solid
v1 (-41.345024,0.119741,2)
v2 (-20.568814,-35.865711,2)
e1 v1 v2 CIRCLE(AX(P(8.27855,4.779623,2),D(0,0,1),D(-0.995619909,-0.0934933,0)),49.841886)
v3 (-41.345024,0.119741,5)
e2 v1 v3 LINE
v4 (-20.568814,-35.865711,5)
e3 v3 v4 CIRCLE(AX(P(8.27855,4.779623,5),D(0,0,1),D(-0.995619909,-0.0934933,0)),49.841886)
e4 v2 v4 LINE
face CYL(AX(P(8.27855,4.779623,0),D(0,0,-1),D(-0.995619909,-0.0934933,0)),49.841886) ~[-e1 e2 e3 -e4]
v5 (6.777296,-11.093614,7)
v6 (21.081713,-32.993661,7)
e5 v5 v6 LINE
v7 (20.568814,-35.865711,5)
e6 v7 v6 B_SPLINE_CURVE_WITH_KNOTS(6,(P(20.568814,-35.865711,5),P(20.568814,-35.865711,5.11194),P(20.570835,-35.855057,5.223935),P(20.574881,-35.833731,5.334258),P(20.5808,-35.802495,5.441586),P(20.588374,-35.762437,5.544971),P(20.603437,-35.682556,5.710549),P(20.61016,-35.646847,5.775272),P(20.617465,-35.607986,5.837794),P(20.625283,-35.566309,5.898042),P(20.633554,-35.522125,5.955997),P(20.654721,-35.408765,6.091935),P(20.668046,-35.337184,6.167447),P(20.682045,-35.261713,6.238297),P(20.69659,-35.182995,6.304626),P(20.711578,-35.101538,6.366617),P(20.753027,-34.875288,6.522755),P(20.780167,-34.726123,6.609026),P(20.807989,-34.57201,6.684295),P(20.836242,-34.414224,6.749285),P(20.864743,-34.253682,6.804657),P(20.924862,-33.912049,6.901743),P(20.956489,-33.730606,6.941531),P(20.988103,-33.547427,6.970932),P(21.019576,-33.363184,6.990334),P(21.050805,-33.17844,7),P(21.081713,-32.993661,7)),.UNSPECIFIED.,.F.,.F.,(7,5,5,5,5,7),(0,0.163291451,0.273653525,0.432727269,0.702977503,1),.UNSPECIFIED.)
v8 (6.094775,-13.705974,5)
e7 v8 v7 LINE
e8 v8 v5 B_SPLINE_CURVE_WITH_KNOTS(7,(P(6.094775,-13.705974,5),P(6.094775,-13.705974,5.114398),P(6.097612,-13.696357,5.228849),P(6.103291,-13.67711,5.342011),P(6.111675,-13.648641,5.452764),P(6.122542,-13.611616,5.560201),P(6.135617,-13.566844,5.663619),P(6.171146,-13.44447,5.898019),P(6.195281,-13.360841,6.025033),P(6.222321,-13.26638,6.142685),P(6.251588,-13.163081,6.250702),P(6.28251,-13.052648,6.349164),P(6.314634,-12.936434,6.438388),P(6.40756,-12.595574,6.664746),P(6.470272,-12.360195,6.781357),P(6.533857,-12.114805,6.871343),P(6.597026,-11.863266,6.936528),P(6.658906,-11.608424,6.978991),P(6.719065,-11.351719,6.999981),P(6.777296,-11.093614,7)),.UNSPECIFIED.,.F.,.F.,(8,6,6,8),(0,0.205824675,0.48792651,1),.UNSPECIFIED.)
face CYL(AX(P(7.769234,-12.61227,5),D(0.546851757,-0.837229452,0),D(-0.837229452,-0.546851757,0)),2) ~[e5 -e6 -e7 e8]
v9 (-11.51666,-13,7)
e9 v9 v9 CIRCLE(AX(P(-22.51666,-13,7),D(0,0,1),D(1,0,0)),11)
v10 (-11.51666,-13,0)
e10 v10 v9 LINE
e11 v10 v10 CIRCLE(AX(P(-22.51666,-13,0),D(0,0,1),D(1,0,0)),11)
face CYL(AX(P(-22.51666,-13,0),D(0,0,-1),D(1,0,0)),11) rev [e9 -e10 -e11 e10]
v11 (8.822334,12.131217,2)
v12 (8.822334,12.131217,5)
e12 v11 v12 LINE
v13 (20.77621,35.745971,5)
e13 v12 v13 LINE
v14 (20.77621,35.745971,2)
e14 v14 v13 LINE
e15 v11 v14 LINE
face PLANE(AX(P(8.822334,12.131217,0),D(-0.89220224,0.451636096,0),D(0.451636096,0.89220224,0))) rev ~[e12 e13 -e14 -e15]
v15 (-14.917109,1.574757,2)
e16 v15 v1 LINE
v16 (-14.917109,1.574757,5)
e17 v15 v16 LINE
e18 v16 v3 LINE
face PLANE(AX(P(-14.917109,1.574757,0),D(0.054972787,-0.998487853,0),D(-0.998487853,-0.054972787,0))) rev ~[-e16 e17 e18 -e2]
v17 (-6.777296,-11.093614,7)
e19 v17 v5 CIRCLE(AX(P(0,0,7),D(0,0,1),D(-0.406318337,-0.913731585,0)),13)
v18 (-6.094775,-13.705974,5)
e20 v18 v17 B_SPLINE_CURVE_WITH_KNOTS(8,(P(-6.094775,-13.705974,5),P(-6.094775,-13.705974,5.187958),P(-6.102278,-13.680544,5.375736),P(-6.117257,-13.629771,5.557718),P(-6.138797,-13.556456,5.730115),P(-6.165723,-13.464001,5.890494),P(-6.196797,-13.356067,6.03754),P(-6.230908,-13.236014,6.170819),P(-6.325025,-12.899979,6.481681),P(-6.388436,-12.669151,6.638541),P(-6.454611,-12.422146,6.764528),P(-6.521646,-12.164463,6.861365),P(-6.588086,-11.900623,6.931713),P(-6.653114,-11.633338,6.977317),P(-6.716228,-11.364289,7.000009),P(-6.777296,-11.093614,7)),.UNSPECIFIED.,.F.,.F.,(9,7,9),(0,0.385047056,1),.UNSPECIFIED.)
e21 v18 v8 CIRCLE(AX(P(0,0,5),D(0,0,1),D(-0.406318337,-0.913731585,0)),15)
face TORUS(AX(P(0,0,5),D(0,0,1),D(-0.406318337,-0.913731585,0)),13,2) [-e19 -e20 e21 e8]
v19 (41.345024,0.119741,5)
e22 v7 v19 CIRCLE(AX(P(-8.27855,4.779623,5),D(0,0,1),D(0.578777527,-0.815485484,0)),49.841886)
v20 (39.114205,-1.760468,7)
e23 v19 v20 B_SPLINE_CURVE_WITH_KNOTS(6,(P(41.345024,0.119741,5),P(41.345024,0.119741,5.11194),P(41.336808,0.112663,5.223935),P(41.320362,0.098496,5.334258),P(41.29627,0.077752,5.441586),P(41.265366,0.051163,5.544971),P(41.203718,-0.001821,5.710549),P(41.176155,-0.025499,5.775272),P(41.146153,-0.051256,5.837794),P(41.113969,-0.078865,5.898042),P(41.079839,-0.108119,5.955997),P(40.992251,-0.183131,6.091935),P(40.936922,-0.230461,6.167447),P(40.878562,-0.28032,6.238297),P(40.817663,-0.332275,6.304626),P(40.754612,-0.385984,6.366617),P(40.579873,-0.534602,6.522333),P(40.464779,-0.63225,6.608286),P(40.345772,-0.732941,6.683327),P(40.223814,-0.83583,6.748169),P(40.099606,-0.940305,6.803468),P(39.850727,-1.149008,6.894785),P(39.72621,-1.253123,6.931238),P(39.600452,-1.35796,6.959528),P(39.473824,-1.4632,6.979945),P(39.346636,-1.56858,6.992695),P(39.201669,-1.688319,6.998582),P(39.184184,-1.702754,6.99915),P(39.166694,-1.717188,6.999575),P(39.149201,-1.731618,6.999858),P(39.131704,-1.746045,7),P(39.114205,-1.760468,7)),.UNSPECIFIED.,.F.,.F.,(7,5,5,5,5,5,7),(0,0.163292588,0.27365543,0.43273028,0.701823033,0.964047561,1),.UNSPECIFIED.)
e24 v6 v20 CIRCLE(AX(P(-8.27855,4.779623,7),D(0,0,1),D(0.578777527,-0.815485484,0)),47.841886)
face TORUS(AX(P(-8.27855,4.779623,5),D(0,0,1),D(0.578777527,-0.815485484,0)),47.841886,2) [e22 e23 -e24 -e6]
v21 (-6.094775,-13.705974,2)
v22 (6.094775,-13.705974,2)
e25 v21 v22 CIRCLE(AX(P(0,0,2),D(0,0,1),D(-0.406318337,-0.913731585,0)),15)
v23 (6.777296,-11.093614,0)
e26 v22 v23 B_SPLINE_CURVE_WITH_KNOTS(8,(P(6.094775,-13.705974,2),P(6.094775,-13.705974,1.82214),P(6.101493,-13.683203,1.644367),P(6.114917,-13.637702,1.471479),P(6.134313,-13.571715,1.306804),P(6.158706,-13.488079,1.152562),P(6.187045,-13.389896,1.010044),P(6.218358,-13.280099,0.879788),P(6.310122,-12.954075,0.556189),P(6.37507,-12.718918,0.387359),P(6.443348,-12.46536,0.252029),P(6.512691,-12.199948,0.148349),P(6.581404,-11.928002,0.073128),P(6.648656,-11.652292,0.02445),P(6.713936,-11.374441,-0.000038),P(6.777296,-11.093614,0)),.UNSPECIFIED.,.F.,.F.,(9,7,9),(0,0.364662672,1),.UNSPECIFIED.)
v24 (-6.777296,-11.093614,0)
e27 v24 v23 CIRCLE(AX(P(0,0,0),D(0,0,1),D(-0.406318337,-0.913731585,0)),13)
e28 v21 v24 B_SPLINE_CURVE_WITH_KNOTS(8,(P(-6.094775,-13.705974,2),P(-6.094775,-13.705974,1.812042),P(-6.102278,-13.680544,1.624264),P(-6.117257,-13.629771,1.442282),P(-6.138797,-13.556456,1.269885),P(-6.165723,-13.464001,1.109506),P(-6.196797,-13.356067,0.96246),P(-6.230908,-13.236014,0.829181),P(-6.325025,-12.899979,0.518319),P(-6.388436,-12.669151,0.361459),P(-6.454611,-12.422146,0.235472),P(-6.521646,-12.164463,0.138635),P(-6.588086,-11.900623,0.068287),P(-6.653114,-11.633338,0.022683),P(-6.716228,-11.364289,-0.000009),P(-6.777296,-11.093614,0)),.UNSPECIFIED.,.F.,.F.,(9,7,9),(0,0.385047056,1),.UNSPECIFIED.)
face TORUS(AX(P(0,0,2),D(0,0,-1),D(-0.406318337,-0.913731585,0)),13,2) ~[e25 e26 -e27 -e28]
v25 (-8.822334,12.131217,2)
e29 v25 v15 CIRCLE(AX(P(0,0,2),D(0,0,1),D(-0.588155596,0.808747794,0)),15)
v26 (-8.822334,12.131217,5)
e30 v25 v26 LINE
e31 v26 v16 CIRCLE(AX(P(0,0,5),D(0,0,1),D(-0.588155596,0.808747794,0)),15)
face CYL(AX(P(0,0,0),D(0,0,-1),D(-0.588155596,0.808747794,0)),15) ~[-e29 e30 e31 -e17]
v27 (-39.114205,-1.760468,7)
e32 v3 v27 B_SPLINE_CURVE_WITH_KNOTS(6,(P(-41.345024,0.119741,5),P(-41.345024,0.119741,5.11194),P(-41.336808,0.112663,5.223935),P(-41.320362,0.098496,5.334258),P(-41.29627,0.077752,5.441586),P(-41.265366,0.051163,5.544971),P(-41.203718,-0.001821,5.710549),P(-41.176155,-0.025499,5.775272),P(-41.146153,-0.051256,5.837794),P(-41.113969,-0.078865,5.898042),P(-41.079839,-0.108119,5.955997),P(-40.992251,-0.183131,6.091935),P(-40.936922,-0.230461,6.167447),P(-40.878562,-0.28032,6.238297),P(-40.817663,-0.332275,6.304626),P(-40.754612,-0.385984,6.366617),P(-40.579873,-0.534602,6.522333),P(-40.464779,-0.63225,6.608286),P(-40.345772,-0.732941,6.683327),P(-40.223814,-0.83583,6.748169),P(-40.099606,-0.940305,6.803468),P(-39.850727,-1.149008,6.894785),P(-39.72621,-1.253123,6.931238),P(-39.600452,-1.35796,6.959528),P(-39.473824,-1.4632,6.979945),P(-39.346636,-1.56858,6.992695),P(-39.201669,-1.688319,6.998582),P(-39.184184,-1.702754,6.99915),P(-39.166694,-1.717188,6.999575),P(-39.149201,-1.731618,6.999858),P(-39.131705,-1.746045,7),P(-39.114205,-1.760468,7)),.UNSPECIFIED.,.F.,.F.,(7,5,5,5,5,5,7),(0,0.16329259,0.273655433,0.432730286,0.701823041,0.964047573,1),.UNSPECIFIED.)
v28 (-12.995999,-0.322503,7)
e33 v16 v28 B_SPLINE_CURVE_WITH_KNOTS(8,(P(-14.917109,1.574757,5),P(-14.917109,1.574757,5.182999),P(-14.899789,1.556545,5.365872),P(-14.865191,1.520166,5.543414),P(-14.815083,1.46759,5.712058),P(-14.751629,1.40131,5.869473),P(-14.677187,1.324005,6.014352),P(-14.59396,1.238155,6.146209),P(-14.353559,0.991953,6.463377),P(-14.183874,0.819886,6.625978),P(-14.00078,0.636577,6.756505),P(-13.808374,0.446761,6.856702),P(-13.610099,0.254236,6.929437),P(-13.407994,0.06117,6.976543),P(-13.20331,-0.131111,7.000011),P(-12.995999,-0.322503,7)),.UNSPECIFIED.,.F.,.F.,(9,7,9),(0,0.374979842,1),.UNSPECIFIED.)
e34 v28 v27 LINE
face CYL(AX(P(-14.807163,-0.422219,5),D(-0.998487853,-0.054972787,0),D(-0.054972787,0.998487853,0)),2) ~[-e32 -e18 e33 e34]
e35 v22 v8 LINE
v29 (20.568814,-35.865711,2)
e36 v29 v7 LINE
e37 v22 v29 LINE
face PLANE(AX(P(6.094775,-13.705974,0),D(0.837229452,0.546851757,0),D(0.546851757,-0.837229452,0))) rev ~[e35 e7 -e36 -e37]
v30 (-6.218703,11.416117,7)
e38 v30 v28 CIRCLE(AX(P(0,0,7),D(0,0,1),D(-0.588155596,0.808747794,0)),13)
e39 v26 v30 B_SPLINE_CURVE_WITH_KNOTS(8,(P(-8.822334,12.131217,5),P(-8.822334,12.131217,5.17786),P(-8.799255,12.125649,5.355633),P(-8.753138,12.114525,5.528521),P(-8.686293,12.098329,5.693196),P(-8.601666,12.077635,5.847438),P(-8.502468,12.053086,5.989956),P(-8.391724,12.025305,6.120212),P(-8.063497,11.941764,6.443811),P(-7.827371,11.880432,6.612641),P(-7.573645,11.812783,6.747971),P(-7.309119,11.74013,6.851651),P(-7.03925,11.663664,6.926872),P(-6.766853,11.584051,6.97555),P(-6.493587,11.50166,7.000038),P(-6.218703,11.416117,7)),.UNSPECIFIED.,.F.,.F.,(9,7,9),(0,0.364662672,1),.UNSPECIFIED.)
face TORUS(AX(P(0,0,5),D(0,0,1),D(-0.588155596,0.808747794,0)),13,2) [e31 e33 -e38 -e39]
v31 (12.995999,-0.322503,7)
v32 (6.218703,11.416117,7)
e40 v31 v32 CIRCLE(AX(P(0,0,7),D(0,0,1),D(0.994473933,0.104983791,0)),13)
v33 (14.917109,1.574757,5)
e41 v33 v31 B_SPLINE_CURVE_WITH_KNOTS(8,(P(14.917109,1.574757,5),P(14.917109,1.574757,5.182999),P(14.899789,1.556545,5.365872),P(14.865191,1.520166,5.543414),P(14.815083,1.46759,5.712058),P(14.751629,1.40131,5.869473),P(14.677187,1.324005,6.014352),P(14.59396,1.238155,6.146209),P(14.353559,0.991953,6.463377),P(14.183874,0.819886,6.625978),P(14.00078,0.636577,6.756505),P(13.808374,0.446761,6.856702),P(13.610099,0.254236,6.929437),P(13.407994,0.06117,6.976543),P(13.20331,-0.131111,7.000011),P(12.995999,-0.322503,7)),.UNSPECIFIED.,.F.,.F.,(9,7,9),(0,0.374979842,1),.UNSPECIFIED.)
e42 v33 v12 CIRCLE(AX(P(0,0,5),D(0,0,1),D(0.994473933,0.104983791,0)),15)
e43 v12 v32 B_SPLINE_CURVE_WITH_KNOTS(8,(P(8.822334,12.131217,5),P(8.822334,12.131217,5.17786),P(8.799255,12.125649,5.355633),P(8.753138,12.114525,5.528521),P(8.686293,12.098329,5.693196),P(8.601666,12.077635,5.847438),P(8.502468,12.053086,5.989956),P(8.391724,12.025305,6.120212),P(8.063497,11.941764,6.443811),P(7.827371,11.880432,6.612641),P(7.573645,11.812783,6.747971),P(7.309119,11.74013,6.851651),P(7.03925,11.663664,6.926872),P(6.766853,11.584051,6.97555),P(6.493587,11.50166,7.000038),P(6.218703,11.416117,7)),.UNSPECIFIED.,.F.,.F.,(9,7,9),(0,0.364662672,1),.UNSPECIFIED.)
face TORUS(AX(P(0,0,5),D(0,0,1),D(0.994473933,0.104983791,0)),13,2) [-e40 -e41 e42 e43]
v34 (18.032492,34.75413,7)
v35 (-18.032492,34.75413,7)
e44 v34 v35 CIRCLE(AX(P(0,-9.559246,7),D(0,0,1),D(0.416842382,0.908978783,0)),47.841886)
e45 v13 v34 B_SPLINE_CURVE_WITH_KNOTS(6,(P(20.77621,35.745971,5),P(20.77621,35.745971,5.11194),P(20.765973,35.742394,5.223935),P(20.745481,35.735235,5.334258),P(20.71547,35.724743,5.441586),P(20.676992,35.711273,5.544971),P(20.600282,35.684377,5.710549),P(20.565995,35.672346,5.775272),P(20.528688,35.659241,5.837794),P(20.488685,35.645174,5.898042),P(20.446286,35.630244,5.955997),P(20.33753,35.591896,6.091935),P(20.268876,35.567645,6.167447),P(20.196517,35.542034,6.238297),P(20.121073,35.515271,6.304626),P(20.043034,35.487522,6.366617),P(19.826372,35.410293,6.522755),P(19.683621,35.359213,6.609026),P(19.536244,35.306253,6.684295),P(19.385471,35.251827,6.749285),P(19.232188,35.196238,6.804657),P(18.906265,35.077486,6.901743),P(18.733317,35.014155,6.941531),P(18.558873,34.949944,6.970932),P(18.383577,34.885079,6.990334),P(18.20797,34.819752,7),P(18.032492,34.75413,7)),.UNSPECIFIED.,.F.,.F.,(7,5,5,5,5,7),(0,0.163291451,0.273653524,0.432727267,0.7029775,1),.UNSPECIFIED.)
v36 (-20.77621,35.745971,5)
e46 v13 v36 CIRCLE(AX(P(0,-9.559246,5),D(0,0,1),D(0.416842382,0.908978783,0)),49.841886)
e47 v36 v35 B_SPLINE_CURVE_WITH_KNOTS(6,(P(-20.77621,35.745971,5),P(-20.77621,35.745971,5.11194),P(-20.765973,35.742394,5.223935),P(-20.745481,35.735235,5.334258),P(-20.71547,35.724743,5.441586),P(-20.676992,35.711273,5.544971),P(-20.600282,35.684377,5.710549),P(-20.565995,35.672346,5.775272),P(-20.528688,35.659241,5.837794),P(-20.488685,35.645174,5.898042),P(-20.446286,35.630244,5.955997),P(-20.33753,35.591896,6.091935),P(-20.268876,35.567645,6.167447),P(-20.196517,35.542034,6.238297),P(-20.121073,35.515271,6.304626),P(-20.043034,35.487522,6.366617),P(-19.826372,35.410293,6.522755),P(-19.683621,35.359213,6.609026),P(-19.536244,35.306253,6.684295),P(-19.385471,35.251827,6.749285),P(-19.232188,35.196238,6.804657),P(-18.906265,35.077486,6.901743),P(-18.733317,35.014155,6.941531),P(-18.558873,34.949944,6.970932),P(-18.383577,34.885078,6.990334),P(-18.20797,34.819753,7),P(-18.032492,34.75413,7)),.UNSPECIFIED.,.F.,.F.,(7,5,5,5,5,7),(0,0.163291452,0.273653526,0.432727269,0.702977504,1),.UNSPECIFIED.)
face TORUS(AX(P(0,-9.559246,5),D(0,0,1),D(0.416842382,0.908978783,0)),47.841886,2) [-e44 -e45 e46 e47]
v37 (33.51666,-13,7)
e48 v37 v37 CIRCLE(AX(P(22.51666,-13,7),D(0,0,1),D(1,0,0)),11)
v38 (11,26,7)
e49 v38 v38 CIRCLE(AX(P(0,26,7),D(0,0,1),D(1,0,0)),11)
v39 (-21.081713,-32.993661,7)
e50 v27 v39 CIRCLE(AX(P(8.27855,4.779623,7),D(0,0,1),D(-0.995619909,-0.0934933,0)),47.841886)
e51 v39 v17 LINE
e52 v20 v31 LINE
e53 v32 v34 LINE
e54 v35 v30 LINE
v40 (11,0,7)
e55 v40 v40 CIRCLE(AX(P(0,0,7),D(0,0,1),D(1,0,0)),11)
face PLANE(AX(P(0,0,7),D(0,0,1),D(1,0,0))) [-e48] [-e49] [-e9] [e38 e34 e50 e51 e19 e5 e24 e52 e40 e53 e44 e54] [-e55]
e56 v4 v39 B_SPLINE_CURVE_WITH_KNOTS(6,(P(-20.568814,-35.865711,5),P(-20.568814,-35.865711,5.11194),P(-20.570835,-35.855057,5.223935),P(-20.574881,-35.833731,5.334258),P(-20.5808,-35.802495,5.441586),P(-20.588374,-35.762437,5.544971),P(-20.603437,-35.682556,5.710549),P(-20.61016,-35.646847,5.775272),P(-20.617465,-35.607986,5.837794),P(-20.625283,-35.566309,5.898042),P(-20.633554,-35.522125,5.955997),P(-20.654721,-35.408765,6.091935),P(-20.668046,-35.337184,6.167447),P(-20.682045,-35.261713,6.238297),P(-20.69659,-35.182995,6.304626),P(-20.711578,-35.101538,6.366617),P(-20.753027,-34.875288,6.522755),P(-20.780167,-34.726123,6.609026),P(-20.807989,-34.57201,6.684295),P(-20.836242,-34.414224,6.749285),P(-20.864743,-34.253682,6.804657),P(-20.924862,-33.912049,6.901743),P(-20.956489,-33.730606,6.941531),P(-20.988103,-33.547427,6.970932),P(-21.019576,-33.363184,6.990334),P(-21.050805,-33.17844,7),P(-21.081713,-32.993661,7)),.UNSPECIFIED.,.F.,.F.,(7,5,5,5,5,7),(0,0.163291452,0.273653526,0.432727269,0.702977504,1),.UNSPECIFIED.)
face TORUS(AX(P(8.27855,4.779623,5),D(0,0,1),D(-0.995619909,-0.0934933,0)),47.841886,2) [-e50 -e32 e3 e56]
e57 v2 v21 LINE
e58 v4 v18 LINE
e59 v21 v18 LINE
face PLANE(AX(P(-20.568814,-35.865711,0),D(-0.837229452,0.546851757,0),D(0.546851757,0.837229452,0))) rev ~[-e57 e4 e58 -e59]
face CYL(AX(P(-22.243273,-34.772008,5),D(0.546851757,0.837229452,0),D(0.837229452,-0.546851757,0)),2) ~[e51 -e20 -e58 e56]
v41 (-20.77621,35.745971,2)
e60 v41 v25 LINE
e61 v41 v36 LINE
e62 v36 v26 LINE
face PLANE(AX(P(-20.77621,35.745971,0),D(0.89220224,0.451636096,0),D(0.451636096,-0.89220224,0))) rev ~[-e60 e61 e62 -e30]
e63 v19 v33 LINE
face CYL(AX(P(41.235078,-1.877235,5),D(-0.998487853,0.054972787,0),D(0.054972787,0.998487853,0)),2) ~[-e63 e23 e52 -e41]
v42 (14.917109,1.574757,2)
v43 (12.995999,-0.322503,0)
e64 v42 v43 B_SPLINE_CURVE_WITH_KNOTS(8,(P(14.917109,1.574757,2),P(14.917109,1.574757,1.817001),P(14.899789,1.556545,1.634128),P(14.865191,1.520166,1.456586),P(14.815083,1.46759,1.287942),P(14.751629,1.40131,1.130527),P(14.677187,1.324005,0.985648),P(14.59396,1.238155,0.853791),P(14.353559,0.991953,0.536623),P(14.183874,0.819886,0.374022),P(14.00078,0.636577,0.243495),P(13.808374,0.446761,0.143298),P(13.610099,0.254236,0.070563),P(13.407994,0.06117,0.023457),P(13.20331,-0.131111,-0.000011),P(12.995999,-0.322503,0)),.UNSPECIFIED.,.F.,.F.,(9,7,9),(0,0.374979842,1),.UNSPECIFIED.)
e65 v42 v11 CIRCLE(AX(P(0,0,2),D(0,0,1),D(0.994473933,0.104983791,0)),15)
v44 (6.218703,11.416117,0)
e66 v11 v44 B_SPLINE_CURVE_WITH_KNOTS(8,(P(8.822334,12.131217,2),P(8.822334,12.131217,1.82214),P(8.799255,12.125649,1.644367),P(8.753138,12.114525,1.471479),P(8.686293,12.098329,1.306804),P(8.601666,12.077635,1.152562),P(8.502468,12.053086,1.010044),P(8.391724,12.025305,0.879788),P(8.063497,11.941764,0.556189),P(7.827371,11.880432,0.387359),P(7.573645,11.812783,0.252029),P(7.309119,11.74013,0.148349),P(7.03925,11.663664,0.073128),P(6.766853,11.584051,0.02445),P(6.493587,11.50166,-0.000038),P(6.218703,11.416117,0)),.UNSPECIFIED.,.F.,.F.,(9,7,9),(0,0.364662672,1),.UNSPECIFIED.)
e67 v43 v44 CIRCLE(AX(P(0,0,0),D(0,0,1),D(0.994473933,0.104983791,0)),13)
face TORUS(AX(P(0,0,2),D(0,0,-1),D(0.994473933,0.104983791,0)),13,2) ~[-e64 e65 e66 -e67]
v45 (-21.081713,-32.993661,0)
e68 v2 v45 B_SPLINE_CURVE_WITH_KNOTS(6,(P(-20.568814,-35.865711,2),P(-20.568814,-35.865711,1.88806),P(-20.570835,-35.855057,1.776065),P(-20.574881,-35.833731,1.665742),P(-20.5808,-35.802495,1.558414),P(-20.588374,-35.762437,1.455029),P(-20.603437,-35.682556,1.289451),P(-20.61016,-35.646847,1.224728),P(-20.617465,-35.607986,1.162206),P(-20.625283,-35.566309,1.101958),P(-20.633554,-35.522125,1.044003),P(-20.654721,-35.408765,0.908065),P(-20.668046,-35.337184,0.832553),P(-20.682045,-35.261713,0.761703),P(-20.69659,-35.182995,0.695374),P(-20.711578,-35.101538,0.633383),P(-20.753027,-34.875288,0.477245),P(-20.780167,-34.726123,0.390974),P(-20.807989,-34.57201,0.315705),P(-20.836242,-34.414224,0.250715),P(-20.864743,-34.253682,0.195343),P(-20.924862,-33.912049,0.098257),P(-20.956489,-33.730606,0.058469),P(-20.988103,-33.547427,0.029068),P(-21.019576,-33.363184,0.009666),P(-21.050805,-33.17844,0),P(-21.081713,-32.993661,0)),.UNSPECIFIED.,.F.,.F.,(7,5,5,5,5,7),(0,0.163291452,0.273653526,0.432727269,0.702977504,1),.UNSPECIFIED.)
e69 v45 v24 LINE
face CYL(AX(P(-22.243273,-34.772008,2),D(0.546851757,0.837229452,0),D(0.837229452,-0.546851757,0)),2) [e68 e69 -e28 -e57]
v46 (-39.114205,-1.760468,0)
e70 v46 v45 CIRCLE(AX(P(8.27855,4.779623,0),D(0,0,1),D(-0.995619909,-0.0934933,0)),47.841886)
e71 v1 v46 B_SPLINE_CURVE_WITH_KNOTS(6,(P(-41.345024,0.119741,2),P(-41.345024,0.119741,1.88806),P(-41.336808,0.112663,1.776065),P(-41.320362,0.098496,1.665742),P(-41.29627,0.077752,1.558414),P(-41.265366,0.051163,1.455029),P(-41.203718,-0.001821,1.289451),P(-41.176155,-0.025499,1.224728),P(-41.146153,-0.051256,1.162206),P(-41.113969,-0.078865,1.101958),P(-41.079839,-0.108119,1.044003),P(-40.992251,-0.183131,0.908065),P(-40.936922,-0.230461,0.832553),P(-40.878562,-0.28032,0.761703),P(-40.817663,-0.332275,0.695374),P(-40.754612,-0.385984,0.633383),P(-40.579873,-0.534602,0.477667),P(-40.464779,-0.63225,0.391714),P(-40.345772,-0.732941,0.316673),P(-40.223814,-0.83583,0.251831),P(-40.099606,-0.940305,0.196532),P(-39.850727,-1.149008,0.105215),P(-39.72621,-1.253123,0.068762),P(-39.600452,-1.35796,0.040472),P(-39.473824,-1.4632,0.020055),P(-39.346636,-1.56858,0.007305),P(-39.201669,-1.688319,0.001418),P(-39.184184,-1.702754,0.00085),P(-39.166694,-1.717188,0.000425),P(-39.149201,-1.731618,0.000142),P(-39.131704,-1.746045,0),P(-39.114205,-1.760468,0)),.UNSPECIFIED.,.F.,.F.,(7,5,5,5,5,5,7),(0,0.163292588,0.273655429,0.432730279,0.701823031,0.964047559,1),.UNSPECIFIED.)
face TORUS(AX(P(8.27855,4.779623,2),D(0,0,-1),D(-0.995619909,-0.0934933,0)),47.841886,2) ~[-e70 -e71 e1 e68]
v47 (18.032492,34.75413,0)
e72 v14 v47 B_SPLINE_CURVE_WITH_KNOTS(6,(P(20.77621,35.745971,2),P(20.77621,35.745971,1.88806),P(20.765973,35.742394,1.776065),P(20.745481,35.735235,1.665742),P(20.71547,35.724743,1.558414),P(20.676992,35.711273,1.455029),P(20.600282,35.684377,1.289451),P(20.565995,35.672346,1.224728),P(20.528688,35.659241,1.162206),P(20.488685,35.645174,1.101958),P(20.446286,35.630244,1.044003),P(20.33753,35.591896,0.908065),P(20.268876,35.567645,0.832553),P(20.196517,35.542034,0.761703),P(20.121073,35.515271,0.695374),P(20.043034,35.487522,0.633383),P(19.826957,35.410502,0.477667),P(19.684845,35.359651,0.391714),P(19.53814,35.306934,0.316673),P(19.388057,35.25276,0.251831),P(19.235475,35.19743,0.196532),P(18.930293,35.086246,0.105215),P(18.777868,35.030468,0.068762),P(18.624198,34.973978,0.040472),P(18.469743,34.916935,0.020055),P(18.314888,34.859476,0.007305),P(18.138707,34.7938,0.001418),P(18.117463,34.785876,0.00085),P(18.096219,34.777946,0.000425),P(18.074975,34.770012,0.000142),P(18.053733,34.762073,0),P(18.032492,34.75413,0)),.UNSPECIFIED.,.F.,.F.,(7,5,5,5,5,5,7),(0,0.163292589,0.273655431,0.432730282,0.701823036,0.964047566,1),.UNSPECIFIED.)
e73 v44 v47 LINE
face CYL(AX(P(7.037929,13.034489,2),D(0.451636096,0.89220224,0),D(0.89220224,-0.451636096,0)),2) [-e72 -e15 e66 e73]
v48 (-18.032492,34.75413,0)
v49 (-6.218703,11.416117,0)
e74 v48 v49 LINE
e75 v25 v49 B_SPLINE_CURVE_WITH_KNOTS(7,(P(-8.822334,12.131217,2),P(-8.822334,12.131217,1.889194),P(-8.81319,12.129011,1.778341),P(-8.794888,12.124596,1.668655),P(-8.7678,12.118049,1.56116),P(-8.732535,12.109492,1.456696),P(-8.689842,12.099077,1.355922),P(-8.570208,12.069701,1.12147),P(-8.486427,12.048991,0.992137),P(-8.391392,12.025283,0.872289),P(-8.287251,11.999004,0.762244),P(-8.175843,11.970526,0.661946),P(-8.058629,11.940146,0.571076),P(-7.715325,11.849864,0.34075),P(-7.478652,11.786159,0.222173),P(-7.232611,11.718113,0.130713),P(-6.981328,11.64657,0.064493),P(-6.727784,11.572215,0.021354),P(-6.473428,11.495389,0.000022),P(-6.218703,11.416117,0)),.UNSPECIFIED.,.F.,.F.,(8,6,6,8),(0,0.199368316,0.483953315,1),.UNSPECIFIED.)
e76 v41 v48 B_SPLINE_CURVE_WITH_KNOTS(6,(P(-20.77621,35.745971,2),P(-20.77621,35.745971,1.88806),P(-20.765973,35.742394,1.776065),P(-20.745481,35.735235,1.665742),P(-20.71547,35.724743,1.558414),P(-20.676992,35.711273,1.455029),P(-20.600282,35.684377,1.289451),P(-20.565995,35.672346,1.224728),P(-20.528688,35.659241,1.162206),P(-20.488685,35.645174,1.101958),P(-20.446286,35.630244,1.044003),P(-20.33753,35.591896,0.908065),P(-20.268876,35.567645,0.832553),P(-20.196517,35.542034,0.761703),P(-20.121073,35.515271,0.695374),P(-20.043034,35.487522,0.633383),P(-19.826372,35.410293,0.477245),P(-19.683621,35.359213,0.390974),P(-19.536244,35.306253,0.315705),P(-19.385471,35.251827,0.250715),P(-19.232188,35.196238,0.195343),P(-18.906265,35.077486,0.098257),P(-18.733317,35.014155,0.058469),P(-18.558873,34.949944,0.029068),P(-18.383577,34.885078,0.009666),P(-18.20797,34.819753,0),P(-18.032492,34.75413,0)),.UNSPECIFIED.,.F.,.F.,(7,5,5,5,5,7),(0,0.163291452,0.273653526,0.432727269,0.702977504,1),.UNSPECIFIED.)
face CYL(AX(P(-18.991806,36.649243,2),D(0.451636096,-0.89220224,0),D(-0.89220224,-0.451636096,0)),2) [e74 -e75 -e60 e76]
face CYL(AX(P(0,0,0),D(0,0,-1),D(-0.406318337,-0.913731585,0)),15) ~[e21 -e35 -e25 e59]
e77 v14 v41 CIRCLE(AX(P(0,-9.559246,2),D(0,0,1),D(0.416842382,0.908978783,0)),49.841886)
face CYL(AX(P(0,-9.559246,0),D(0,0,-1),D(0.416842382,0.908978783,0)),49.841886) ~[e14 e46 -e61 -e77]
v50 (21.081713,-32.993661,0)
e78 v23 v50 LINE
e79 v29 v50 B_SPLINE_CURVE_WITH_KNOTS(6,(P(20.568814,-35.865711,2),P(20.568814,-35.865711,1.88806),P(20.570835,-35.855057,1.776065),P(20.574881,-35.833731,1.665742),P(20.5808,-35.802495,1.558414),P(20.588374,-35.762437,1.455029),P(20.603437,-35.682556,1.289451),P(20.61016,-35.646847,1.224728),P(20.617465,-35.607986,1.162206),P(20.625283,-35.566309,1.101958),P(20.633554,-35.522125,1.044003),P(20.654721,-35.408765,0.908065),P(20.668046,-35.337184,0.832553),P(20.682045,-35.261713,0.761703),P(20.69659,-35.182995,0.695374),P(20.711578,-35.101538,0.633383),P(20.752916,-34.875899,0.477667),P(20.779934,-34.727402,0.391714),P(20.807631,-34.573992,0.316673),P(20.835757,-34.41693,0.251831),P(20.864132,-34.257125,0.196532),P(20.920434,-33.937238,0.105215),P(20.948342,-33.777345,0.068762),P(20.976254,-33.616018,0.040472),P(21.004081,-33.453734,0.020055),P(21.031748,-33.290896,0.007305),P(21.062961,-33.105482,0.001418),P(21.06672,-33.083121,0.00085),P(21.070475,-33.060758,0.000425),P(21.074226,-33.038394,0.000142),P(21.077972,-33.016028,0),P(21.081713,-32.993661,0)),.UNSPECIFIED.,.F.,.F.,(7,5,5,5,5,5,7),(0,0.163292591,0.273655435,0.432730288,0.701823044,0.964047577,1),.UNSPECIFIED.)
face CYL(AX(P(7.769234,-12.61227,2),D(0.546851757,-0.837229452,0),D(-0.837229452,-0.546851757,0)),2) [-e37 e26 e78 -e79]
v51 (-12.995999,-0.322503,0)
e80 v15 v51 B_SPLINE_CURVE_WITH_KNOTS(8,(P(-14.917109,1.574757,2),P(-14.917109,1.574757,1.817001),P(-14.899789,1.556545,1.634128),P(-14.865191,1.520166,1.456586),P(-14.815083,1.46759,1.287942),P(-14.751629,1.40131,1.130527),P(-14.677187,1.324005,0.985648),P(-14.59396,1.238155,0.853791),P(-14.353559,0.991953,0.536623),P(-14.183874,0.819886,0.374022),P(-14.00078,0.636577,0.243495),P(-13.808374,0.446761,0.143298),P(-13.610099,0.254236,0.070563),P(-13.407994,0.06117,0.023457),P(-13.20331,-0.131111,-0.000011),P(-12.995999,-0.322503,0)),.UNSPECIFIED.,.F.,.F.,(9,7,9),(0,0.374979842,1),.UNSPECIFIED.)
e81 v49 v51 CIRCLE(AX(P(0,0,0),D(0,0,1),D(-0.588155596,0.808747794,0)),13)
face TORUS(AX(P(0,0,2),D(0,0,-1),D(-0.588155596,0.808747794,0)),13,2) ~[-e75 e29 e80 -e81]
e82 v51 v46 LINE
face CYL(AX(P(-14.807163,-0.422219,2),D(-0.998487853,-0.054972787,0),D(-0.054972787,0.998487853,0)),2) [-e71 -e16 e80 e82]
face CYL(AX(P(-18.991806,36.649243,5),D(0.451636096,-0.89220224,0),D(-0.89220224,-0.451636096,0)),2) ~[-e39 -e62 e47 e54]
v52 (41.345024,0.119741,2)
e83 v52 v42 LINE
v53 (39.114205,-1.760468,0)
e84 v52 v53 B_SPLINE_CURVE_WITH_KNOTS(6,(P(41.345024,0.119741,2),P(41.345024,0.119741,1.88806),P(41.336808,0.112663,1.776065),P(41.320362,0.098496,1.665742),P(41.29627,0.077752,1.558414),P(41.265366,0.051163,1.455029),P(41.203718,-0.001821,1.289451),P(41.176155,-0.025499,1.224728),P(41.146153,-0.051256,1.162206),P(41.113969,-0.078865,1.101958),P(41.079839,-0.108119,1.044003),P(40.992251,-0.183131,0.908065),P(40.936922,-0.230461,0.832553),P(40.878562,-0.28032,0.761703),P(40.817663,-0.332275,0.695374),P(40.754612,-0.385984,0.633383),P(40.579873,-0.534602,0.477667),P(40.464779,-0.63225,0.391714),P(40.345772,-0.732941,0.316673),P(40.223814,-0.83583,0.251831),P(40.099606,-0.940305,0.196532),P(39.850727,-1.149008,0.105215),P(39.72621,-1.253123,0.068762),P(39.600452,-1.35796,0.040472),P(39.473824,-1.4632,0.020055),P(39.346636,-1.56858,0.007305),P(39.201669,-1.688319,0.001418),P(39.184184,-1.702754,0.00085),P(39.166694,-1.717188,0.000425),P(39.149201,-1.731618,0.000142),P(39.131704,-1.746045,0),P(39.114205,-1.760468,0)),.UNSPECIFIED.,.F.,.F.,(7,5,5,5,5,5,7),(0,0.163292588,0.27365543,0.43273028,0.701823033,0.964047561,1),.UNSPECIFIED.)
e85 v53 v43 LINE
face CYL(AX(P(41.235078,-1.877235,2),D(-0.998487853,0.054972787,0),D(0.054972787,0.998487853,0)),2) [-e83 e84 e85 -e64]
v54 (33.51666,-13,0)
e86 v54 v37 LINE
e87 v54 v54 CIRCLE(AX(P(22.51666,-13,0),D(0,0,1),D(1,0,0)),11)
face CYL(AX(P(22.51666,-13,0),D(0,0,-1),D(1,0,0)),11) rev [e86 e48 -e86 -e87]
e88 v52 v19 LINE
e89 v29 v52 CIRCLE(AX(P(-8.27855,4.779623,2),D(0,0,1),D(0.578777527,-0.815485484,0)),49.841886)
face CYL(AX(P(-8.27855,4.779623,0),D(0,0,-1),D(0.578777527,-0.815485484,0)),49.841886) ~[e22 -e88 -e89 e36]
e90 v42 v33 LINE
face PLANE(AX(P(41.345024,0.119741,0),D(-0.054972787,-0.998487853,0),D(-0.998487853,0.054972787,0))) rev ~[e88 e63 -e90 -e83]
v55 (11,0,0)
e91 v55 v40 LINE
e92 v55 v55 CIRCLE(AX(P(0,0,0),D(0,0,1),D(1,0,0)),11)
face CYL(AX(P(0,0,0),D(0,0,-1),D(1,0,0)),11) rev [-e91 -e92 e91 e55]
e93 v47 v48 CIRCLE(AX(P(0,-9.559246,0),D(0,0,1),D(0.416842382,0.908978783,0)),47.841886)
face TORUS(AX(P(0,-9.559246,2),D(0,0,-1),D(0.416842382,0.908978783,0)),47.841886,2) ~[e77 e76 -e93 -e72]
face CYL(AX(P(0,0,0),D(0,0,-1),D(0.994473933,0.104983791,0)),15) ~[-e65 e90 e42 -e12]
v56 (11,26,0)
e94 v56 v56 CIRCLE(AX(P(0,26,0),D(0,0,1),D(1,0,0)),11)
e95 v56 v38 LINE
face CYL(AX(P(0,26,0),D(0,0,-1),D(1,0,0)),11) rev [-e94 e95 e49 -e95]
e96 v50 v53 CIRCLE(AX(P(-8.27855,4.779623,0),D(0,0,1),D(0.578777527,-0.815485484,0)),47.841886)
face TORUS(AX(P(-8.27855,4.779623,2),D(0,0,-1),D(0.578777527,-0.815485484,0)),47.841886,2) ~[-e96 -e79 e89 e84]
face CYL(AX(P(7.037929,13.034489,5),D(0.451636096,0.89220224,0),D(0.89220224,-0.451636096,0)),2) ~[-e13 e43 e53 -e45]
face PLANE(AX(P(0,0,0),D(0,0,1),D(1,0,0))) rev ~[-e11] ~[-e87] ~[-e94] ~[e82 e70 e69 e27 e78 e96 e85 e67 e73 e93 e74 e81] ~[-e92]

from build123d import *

# Parameters (mm, degrees)
F0_R     = 11
F1_DEPTH = 7
F2_R     = 2


with BuildPart() as f1:
    # F0 (on Top) → F1 (new body)
    with BuildSketch(Plane.XY):
        with BuildLine():
            Line((-20.5688137101, -35.8657114123), (-6.0947750549, -13.7059737717))
            ThreePointArc((-6.0947750549, -13.7059737717), (0, -15), (6.0947750549, -13.7059737717))
            Line((6.0947750549, -13.7059737717), (20.5688137101, -35.8657114123))
            ThreePointArc((20.5688137101, -35.8657114123), (34.8857895537, -20.1413199897), (41.3450240629, 0.1197405075))
            Line((41.3450240629, 0.1197405075), (14.9171089973, 1.5747568579))
            ThreePointArc((14.9171089973, 1.5747568579), (12.9903810568, 7.5), (8.8223339424, 12.1312169138))
            Line((8.8223339424, 12.1312169138), (20.7762103528, 35.7459709048))
            ThreePointArc((20.7762103528, 35.7459709048), (0, 40.2826399794), (-20.7762103528, 35.7459709048))
            Line((-20.7762103528, 35.7459709048), (-8.8223339424, 12.1312169138))
            ThreePointArc((-8.8223339424, 12.1312169138), (-12.9903810568, 7.5), (-14.9171089973, 1.5747568579))
            Line((-14.9171089973, 1.5747568579), (-41.3450240629, 0.1197405075))
            ThreePointArc((-41.3450240629, 0.1197405075), (-34.8857895537, -20.1413199897), (-20.5688137101, -35.8657114123))
        make_face()
        with Locations((-22.5166604984, -13)):
            Circle(F0_R, mode=Mode.SUBTRACT)
        Circle(F0_R, mode=Mode.SUBTRACT)
        with Locations((22.5166604984, -13)):
            Circle(F0_R, mode=Mode.SUBTRACT)
        with Locations((0, 26)):
            Circle(F0_R, mode=Mode.SUBTRACT)
    extrude(amount=F1_DEPTH)

    # F2
    f2_edges = [f1.edges().sort_by_distance(p)[0] for p in [
        (-12.990381, 7.5, 7),
        (-14.799272, 23.938594, 7),
        (0, 40.28264, 7),
        (14.799272, 23.938594, 7),
        (12.990381, 7.5, 7),
        (28.131067, 0.847249, 7),
        (34.88579, -20.14132, 7),
        (13.331794, -24.785843, 7),
        (0, -15, 7),
        (-13.331794, -24.785843, 7),
        (-34.88579, -20.14132, 7),
        (-28.131067, 0.847249, 7),
        (0, 40.28264, 0),
        (-14.799272, 23.938594, 0),
        (14.799272, 23.938594, 0),
        (12.990381, 7.5, 0),
        (28.131067, 0.847249, 0),
        (13.331794, -24.785843, 0),
        (34.88579, -20.14132, 0),
        (-13.331794, -24.785843, 0),
        (0, -15, 0),
        (-34.88579, -20.14132, 0),
        (-28.131067, 0.847249, 0),
        (-12.990381, 7.5, 0),
    ]]
    fillet(f2_edges, radius=F2_R)


solid = f1.part
